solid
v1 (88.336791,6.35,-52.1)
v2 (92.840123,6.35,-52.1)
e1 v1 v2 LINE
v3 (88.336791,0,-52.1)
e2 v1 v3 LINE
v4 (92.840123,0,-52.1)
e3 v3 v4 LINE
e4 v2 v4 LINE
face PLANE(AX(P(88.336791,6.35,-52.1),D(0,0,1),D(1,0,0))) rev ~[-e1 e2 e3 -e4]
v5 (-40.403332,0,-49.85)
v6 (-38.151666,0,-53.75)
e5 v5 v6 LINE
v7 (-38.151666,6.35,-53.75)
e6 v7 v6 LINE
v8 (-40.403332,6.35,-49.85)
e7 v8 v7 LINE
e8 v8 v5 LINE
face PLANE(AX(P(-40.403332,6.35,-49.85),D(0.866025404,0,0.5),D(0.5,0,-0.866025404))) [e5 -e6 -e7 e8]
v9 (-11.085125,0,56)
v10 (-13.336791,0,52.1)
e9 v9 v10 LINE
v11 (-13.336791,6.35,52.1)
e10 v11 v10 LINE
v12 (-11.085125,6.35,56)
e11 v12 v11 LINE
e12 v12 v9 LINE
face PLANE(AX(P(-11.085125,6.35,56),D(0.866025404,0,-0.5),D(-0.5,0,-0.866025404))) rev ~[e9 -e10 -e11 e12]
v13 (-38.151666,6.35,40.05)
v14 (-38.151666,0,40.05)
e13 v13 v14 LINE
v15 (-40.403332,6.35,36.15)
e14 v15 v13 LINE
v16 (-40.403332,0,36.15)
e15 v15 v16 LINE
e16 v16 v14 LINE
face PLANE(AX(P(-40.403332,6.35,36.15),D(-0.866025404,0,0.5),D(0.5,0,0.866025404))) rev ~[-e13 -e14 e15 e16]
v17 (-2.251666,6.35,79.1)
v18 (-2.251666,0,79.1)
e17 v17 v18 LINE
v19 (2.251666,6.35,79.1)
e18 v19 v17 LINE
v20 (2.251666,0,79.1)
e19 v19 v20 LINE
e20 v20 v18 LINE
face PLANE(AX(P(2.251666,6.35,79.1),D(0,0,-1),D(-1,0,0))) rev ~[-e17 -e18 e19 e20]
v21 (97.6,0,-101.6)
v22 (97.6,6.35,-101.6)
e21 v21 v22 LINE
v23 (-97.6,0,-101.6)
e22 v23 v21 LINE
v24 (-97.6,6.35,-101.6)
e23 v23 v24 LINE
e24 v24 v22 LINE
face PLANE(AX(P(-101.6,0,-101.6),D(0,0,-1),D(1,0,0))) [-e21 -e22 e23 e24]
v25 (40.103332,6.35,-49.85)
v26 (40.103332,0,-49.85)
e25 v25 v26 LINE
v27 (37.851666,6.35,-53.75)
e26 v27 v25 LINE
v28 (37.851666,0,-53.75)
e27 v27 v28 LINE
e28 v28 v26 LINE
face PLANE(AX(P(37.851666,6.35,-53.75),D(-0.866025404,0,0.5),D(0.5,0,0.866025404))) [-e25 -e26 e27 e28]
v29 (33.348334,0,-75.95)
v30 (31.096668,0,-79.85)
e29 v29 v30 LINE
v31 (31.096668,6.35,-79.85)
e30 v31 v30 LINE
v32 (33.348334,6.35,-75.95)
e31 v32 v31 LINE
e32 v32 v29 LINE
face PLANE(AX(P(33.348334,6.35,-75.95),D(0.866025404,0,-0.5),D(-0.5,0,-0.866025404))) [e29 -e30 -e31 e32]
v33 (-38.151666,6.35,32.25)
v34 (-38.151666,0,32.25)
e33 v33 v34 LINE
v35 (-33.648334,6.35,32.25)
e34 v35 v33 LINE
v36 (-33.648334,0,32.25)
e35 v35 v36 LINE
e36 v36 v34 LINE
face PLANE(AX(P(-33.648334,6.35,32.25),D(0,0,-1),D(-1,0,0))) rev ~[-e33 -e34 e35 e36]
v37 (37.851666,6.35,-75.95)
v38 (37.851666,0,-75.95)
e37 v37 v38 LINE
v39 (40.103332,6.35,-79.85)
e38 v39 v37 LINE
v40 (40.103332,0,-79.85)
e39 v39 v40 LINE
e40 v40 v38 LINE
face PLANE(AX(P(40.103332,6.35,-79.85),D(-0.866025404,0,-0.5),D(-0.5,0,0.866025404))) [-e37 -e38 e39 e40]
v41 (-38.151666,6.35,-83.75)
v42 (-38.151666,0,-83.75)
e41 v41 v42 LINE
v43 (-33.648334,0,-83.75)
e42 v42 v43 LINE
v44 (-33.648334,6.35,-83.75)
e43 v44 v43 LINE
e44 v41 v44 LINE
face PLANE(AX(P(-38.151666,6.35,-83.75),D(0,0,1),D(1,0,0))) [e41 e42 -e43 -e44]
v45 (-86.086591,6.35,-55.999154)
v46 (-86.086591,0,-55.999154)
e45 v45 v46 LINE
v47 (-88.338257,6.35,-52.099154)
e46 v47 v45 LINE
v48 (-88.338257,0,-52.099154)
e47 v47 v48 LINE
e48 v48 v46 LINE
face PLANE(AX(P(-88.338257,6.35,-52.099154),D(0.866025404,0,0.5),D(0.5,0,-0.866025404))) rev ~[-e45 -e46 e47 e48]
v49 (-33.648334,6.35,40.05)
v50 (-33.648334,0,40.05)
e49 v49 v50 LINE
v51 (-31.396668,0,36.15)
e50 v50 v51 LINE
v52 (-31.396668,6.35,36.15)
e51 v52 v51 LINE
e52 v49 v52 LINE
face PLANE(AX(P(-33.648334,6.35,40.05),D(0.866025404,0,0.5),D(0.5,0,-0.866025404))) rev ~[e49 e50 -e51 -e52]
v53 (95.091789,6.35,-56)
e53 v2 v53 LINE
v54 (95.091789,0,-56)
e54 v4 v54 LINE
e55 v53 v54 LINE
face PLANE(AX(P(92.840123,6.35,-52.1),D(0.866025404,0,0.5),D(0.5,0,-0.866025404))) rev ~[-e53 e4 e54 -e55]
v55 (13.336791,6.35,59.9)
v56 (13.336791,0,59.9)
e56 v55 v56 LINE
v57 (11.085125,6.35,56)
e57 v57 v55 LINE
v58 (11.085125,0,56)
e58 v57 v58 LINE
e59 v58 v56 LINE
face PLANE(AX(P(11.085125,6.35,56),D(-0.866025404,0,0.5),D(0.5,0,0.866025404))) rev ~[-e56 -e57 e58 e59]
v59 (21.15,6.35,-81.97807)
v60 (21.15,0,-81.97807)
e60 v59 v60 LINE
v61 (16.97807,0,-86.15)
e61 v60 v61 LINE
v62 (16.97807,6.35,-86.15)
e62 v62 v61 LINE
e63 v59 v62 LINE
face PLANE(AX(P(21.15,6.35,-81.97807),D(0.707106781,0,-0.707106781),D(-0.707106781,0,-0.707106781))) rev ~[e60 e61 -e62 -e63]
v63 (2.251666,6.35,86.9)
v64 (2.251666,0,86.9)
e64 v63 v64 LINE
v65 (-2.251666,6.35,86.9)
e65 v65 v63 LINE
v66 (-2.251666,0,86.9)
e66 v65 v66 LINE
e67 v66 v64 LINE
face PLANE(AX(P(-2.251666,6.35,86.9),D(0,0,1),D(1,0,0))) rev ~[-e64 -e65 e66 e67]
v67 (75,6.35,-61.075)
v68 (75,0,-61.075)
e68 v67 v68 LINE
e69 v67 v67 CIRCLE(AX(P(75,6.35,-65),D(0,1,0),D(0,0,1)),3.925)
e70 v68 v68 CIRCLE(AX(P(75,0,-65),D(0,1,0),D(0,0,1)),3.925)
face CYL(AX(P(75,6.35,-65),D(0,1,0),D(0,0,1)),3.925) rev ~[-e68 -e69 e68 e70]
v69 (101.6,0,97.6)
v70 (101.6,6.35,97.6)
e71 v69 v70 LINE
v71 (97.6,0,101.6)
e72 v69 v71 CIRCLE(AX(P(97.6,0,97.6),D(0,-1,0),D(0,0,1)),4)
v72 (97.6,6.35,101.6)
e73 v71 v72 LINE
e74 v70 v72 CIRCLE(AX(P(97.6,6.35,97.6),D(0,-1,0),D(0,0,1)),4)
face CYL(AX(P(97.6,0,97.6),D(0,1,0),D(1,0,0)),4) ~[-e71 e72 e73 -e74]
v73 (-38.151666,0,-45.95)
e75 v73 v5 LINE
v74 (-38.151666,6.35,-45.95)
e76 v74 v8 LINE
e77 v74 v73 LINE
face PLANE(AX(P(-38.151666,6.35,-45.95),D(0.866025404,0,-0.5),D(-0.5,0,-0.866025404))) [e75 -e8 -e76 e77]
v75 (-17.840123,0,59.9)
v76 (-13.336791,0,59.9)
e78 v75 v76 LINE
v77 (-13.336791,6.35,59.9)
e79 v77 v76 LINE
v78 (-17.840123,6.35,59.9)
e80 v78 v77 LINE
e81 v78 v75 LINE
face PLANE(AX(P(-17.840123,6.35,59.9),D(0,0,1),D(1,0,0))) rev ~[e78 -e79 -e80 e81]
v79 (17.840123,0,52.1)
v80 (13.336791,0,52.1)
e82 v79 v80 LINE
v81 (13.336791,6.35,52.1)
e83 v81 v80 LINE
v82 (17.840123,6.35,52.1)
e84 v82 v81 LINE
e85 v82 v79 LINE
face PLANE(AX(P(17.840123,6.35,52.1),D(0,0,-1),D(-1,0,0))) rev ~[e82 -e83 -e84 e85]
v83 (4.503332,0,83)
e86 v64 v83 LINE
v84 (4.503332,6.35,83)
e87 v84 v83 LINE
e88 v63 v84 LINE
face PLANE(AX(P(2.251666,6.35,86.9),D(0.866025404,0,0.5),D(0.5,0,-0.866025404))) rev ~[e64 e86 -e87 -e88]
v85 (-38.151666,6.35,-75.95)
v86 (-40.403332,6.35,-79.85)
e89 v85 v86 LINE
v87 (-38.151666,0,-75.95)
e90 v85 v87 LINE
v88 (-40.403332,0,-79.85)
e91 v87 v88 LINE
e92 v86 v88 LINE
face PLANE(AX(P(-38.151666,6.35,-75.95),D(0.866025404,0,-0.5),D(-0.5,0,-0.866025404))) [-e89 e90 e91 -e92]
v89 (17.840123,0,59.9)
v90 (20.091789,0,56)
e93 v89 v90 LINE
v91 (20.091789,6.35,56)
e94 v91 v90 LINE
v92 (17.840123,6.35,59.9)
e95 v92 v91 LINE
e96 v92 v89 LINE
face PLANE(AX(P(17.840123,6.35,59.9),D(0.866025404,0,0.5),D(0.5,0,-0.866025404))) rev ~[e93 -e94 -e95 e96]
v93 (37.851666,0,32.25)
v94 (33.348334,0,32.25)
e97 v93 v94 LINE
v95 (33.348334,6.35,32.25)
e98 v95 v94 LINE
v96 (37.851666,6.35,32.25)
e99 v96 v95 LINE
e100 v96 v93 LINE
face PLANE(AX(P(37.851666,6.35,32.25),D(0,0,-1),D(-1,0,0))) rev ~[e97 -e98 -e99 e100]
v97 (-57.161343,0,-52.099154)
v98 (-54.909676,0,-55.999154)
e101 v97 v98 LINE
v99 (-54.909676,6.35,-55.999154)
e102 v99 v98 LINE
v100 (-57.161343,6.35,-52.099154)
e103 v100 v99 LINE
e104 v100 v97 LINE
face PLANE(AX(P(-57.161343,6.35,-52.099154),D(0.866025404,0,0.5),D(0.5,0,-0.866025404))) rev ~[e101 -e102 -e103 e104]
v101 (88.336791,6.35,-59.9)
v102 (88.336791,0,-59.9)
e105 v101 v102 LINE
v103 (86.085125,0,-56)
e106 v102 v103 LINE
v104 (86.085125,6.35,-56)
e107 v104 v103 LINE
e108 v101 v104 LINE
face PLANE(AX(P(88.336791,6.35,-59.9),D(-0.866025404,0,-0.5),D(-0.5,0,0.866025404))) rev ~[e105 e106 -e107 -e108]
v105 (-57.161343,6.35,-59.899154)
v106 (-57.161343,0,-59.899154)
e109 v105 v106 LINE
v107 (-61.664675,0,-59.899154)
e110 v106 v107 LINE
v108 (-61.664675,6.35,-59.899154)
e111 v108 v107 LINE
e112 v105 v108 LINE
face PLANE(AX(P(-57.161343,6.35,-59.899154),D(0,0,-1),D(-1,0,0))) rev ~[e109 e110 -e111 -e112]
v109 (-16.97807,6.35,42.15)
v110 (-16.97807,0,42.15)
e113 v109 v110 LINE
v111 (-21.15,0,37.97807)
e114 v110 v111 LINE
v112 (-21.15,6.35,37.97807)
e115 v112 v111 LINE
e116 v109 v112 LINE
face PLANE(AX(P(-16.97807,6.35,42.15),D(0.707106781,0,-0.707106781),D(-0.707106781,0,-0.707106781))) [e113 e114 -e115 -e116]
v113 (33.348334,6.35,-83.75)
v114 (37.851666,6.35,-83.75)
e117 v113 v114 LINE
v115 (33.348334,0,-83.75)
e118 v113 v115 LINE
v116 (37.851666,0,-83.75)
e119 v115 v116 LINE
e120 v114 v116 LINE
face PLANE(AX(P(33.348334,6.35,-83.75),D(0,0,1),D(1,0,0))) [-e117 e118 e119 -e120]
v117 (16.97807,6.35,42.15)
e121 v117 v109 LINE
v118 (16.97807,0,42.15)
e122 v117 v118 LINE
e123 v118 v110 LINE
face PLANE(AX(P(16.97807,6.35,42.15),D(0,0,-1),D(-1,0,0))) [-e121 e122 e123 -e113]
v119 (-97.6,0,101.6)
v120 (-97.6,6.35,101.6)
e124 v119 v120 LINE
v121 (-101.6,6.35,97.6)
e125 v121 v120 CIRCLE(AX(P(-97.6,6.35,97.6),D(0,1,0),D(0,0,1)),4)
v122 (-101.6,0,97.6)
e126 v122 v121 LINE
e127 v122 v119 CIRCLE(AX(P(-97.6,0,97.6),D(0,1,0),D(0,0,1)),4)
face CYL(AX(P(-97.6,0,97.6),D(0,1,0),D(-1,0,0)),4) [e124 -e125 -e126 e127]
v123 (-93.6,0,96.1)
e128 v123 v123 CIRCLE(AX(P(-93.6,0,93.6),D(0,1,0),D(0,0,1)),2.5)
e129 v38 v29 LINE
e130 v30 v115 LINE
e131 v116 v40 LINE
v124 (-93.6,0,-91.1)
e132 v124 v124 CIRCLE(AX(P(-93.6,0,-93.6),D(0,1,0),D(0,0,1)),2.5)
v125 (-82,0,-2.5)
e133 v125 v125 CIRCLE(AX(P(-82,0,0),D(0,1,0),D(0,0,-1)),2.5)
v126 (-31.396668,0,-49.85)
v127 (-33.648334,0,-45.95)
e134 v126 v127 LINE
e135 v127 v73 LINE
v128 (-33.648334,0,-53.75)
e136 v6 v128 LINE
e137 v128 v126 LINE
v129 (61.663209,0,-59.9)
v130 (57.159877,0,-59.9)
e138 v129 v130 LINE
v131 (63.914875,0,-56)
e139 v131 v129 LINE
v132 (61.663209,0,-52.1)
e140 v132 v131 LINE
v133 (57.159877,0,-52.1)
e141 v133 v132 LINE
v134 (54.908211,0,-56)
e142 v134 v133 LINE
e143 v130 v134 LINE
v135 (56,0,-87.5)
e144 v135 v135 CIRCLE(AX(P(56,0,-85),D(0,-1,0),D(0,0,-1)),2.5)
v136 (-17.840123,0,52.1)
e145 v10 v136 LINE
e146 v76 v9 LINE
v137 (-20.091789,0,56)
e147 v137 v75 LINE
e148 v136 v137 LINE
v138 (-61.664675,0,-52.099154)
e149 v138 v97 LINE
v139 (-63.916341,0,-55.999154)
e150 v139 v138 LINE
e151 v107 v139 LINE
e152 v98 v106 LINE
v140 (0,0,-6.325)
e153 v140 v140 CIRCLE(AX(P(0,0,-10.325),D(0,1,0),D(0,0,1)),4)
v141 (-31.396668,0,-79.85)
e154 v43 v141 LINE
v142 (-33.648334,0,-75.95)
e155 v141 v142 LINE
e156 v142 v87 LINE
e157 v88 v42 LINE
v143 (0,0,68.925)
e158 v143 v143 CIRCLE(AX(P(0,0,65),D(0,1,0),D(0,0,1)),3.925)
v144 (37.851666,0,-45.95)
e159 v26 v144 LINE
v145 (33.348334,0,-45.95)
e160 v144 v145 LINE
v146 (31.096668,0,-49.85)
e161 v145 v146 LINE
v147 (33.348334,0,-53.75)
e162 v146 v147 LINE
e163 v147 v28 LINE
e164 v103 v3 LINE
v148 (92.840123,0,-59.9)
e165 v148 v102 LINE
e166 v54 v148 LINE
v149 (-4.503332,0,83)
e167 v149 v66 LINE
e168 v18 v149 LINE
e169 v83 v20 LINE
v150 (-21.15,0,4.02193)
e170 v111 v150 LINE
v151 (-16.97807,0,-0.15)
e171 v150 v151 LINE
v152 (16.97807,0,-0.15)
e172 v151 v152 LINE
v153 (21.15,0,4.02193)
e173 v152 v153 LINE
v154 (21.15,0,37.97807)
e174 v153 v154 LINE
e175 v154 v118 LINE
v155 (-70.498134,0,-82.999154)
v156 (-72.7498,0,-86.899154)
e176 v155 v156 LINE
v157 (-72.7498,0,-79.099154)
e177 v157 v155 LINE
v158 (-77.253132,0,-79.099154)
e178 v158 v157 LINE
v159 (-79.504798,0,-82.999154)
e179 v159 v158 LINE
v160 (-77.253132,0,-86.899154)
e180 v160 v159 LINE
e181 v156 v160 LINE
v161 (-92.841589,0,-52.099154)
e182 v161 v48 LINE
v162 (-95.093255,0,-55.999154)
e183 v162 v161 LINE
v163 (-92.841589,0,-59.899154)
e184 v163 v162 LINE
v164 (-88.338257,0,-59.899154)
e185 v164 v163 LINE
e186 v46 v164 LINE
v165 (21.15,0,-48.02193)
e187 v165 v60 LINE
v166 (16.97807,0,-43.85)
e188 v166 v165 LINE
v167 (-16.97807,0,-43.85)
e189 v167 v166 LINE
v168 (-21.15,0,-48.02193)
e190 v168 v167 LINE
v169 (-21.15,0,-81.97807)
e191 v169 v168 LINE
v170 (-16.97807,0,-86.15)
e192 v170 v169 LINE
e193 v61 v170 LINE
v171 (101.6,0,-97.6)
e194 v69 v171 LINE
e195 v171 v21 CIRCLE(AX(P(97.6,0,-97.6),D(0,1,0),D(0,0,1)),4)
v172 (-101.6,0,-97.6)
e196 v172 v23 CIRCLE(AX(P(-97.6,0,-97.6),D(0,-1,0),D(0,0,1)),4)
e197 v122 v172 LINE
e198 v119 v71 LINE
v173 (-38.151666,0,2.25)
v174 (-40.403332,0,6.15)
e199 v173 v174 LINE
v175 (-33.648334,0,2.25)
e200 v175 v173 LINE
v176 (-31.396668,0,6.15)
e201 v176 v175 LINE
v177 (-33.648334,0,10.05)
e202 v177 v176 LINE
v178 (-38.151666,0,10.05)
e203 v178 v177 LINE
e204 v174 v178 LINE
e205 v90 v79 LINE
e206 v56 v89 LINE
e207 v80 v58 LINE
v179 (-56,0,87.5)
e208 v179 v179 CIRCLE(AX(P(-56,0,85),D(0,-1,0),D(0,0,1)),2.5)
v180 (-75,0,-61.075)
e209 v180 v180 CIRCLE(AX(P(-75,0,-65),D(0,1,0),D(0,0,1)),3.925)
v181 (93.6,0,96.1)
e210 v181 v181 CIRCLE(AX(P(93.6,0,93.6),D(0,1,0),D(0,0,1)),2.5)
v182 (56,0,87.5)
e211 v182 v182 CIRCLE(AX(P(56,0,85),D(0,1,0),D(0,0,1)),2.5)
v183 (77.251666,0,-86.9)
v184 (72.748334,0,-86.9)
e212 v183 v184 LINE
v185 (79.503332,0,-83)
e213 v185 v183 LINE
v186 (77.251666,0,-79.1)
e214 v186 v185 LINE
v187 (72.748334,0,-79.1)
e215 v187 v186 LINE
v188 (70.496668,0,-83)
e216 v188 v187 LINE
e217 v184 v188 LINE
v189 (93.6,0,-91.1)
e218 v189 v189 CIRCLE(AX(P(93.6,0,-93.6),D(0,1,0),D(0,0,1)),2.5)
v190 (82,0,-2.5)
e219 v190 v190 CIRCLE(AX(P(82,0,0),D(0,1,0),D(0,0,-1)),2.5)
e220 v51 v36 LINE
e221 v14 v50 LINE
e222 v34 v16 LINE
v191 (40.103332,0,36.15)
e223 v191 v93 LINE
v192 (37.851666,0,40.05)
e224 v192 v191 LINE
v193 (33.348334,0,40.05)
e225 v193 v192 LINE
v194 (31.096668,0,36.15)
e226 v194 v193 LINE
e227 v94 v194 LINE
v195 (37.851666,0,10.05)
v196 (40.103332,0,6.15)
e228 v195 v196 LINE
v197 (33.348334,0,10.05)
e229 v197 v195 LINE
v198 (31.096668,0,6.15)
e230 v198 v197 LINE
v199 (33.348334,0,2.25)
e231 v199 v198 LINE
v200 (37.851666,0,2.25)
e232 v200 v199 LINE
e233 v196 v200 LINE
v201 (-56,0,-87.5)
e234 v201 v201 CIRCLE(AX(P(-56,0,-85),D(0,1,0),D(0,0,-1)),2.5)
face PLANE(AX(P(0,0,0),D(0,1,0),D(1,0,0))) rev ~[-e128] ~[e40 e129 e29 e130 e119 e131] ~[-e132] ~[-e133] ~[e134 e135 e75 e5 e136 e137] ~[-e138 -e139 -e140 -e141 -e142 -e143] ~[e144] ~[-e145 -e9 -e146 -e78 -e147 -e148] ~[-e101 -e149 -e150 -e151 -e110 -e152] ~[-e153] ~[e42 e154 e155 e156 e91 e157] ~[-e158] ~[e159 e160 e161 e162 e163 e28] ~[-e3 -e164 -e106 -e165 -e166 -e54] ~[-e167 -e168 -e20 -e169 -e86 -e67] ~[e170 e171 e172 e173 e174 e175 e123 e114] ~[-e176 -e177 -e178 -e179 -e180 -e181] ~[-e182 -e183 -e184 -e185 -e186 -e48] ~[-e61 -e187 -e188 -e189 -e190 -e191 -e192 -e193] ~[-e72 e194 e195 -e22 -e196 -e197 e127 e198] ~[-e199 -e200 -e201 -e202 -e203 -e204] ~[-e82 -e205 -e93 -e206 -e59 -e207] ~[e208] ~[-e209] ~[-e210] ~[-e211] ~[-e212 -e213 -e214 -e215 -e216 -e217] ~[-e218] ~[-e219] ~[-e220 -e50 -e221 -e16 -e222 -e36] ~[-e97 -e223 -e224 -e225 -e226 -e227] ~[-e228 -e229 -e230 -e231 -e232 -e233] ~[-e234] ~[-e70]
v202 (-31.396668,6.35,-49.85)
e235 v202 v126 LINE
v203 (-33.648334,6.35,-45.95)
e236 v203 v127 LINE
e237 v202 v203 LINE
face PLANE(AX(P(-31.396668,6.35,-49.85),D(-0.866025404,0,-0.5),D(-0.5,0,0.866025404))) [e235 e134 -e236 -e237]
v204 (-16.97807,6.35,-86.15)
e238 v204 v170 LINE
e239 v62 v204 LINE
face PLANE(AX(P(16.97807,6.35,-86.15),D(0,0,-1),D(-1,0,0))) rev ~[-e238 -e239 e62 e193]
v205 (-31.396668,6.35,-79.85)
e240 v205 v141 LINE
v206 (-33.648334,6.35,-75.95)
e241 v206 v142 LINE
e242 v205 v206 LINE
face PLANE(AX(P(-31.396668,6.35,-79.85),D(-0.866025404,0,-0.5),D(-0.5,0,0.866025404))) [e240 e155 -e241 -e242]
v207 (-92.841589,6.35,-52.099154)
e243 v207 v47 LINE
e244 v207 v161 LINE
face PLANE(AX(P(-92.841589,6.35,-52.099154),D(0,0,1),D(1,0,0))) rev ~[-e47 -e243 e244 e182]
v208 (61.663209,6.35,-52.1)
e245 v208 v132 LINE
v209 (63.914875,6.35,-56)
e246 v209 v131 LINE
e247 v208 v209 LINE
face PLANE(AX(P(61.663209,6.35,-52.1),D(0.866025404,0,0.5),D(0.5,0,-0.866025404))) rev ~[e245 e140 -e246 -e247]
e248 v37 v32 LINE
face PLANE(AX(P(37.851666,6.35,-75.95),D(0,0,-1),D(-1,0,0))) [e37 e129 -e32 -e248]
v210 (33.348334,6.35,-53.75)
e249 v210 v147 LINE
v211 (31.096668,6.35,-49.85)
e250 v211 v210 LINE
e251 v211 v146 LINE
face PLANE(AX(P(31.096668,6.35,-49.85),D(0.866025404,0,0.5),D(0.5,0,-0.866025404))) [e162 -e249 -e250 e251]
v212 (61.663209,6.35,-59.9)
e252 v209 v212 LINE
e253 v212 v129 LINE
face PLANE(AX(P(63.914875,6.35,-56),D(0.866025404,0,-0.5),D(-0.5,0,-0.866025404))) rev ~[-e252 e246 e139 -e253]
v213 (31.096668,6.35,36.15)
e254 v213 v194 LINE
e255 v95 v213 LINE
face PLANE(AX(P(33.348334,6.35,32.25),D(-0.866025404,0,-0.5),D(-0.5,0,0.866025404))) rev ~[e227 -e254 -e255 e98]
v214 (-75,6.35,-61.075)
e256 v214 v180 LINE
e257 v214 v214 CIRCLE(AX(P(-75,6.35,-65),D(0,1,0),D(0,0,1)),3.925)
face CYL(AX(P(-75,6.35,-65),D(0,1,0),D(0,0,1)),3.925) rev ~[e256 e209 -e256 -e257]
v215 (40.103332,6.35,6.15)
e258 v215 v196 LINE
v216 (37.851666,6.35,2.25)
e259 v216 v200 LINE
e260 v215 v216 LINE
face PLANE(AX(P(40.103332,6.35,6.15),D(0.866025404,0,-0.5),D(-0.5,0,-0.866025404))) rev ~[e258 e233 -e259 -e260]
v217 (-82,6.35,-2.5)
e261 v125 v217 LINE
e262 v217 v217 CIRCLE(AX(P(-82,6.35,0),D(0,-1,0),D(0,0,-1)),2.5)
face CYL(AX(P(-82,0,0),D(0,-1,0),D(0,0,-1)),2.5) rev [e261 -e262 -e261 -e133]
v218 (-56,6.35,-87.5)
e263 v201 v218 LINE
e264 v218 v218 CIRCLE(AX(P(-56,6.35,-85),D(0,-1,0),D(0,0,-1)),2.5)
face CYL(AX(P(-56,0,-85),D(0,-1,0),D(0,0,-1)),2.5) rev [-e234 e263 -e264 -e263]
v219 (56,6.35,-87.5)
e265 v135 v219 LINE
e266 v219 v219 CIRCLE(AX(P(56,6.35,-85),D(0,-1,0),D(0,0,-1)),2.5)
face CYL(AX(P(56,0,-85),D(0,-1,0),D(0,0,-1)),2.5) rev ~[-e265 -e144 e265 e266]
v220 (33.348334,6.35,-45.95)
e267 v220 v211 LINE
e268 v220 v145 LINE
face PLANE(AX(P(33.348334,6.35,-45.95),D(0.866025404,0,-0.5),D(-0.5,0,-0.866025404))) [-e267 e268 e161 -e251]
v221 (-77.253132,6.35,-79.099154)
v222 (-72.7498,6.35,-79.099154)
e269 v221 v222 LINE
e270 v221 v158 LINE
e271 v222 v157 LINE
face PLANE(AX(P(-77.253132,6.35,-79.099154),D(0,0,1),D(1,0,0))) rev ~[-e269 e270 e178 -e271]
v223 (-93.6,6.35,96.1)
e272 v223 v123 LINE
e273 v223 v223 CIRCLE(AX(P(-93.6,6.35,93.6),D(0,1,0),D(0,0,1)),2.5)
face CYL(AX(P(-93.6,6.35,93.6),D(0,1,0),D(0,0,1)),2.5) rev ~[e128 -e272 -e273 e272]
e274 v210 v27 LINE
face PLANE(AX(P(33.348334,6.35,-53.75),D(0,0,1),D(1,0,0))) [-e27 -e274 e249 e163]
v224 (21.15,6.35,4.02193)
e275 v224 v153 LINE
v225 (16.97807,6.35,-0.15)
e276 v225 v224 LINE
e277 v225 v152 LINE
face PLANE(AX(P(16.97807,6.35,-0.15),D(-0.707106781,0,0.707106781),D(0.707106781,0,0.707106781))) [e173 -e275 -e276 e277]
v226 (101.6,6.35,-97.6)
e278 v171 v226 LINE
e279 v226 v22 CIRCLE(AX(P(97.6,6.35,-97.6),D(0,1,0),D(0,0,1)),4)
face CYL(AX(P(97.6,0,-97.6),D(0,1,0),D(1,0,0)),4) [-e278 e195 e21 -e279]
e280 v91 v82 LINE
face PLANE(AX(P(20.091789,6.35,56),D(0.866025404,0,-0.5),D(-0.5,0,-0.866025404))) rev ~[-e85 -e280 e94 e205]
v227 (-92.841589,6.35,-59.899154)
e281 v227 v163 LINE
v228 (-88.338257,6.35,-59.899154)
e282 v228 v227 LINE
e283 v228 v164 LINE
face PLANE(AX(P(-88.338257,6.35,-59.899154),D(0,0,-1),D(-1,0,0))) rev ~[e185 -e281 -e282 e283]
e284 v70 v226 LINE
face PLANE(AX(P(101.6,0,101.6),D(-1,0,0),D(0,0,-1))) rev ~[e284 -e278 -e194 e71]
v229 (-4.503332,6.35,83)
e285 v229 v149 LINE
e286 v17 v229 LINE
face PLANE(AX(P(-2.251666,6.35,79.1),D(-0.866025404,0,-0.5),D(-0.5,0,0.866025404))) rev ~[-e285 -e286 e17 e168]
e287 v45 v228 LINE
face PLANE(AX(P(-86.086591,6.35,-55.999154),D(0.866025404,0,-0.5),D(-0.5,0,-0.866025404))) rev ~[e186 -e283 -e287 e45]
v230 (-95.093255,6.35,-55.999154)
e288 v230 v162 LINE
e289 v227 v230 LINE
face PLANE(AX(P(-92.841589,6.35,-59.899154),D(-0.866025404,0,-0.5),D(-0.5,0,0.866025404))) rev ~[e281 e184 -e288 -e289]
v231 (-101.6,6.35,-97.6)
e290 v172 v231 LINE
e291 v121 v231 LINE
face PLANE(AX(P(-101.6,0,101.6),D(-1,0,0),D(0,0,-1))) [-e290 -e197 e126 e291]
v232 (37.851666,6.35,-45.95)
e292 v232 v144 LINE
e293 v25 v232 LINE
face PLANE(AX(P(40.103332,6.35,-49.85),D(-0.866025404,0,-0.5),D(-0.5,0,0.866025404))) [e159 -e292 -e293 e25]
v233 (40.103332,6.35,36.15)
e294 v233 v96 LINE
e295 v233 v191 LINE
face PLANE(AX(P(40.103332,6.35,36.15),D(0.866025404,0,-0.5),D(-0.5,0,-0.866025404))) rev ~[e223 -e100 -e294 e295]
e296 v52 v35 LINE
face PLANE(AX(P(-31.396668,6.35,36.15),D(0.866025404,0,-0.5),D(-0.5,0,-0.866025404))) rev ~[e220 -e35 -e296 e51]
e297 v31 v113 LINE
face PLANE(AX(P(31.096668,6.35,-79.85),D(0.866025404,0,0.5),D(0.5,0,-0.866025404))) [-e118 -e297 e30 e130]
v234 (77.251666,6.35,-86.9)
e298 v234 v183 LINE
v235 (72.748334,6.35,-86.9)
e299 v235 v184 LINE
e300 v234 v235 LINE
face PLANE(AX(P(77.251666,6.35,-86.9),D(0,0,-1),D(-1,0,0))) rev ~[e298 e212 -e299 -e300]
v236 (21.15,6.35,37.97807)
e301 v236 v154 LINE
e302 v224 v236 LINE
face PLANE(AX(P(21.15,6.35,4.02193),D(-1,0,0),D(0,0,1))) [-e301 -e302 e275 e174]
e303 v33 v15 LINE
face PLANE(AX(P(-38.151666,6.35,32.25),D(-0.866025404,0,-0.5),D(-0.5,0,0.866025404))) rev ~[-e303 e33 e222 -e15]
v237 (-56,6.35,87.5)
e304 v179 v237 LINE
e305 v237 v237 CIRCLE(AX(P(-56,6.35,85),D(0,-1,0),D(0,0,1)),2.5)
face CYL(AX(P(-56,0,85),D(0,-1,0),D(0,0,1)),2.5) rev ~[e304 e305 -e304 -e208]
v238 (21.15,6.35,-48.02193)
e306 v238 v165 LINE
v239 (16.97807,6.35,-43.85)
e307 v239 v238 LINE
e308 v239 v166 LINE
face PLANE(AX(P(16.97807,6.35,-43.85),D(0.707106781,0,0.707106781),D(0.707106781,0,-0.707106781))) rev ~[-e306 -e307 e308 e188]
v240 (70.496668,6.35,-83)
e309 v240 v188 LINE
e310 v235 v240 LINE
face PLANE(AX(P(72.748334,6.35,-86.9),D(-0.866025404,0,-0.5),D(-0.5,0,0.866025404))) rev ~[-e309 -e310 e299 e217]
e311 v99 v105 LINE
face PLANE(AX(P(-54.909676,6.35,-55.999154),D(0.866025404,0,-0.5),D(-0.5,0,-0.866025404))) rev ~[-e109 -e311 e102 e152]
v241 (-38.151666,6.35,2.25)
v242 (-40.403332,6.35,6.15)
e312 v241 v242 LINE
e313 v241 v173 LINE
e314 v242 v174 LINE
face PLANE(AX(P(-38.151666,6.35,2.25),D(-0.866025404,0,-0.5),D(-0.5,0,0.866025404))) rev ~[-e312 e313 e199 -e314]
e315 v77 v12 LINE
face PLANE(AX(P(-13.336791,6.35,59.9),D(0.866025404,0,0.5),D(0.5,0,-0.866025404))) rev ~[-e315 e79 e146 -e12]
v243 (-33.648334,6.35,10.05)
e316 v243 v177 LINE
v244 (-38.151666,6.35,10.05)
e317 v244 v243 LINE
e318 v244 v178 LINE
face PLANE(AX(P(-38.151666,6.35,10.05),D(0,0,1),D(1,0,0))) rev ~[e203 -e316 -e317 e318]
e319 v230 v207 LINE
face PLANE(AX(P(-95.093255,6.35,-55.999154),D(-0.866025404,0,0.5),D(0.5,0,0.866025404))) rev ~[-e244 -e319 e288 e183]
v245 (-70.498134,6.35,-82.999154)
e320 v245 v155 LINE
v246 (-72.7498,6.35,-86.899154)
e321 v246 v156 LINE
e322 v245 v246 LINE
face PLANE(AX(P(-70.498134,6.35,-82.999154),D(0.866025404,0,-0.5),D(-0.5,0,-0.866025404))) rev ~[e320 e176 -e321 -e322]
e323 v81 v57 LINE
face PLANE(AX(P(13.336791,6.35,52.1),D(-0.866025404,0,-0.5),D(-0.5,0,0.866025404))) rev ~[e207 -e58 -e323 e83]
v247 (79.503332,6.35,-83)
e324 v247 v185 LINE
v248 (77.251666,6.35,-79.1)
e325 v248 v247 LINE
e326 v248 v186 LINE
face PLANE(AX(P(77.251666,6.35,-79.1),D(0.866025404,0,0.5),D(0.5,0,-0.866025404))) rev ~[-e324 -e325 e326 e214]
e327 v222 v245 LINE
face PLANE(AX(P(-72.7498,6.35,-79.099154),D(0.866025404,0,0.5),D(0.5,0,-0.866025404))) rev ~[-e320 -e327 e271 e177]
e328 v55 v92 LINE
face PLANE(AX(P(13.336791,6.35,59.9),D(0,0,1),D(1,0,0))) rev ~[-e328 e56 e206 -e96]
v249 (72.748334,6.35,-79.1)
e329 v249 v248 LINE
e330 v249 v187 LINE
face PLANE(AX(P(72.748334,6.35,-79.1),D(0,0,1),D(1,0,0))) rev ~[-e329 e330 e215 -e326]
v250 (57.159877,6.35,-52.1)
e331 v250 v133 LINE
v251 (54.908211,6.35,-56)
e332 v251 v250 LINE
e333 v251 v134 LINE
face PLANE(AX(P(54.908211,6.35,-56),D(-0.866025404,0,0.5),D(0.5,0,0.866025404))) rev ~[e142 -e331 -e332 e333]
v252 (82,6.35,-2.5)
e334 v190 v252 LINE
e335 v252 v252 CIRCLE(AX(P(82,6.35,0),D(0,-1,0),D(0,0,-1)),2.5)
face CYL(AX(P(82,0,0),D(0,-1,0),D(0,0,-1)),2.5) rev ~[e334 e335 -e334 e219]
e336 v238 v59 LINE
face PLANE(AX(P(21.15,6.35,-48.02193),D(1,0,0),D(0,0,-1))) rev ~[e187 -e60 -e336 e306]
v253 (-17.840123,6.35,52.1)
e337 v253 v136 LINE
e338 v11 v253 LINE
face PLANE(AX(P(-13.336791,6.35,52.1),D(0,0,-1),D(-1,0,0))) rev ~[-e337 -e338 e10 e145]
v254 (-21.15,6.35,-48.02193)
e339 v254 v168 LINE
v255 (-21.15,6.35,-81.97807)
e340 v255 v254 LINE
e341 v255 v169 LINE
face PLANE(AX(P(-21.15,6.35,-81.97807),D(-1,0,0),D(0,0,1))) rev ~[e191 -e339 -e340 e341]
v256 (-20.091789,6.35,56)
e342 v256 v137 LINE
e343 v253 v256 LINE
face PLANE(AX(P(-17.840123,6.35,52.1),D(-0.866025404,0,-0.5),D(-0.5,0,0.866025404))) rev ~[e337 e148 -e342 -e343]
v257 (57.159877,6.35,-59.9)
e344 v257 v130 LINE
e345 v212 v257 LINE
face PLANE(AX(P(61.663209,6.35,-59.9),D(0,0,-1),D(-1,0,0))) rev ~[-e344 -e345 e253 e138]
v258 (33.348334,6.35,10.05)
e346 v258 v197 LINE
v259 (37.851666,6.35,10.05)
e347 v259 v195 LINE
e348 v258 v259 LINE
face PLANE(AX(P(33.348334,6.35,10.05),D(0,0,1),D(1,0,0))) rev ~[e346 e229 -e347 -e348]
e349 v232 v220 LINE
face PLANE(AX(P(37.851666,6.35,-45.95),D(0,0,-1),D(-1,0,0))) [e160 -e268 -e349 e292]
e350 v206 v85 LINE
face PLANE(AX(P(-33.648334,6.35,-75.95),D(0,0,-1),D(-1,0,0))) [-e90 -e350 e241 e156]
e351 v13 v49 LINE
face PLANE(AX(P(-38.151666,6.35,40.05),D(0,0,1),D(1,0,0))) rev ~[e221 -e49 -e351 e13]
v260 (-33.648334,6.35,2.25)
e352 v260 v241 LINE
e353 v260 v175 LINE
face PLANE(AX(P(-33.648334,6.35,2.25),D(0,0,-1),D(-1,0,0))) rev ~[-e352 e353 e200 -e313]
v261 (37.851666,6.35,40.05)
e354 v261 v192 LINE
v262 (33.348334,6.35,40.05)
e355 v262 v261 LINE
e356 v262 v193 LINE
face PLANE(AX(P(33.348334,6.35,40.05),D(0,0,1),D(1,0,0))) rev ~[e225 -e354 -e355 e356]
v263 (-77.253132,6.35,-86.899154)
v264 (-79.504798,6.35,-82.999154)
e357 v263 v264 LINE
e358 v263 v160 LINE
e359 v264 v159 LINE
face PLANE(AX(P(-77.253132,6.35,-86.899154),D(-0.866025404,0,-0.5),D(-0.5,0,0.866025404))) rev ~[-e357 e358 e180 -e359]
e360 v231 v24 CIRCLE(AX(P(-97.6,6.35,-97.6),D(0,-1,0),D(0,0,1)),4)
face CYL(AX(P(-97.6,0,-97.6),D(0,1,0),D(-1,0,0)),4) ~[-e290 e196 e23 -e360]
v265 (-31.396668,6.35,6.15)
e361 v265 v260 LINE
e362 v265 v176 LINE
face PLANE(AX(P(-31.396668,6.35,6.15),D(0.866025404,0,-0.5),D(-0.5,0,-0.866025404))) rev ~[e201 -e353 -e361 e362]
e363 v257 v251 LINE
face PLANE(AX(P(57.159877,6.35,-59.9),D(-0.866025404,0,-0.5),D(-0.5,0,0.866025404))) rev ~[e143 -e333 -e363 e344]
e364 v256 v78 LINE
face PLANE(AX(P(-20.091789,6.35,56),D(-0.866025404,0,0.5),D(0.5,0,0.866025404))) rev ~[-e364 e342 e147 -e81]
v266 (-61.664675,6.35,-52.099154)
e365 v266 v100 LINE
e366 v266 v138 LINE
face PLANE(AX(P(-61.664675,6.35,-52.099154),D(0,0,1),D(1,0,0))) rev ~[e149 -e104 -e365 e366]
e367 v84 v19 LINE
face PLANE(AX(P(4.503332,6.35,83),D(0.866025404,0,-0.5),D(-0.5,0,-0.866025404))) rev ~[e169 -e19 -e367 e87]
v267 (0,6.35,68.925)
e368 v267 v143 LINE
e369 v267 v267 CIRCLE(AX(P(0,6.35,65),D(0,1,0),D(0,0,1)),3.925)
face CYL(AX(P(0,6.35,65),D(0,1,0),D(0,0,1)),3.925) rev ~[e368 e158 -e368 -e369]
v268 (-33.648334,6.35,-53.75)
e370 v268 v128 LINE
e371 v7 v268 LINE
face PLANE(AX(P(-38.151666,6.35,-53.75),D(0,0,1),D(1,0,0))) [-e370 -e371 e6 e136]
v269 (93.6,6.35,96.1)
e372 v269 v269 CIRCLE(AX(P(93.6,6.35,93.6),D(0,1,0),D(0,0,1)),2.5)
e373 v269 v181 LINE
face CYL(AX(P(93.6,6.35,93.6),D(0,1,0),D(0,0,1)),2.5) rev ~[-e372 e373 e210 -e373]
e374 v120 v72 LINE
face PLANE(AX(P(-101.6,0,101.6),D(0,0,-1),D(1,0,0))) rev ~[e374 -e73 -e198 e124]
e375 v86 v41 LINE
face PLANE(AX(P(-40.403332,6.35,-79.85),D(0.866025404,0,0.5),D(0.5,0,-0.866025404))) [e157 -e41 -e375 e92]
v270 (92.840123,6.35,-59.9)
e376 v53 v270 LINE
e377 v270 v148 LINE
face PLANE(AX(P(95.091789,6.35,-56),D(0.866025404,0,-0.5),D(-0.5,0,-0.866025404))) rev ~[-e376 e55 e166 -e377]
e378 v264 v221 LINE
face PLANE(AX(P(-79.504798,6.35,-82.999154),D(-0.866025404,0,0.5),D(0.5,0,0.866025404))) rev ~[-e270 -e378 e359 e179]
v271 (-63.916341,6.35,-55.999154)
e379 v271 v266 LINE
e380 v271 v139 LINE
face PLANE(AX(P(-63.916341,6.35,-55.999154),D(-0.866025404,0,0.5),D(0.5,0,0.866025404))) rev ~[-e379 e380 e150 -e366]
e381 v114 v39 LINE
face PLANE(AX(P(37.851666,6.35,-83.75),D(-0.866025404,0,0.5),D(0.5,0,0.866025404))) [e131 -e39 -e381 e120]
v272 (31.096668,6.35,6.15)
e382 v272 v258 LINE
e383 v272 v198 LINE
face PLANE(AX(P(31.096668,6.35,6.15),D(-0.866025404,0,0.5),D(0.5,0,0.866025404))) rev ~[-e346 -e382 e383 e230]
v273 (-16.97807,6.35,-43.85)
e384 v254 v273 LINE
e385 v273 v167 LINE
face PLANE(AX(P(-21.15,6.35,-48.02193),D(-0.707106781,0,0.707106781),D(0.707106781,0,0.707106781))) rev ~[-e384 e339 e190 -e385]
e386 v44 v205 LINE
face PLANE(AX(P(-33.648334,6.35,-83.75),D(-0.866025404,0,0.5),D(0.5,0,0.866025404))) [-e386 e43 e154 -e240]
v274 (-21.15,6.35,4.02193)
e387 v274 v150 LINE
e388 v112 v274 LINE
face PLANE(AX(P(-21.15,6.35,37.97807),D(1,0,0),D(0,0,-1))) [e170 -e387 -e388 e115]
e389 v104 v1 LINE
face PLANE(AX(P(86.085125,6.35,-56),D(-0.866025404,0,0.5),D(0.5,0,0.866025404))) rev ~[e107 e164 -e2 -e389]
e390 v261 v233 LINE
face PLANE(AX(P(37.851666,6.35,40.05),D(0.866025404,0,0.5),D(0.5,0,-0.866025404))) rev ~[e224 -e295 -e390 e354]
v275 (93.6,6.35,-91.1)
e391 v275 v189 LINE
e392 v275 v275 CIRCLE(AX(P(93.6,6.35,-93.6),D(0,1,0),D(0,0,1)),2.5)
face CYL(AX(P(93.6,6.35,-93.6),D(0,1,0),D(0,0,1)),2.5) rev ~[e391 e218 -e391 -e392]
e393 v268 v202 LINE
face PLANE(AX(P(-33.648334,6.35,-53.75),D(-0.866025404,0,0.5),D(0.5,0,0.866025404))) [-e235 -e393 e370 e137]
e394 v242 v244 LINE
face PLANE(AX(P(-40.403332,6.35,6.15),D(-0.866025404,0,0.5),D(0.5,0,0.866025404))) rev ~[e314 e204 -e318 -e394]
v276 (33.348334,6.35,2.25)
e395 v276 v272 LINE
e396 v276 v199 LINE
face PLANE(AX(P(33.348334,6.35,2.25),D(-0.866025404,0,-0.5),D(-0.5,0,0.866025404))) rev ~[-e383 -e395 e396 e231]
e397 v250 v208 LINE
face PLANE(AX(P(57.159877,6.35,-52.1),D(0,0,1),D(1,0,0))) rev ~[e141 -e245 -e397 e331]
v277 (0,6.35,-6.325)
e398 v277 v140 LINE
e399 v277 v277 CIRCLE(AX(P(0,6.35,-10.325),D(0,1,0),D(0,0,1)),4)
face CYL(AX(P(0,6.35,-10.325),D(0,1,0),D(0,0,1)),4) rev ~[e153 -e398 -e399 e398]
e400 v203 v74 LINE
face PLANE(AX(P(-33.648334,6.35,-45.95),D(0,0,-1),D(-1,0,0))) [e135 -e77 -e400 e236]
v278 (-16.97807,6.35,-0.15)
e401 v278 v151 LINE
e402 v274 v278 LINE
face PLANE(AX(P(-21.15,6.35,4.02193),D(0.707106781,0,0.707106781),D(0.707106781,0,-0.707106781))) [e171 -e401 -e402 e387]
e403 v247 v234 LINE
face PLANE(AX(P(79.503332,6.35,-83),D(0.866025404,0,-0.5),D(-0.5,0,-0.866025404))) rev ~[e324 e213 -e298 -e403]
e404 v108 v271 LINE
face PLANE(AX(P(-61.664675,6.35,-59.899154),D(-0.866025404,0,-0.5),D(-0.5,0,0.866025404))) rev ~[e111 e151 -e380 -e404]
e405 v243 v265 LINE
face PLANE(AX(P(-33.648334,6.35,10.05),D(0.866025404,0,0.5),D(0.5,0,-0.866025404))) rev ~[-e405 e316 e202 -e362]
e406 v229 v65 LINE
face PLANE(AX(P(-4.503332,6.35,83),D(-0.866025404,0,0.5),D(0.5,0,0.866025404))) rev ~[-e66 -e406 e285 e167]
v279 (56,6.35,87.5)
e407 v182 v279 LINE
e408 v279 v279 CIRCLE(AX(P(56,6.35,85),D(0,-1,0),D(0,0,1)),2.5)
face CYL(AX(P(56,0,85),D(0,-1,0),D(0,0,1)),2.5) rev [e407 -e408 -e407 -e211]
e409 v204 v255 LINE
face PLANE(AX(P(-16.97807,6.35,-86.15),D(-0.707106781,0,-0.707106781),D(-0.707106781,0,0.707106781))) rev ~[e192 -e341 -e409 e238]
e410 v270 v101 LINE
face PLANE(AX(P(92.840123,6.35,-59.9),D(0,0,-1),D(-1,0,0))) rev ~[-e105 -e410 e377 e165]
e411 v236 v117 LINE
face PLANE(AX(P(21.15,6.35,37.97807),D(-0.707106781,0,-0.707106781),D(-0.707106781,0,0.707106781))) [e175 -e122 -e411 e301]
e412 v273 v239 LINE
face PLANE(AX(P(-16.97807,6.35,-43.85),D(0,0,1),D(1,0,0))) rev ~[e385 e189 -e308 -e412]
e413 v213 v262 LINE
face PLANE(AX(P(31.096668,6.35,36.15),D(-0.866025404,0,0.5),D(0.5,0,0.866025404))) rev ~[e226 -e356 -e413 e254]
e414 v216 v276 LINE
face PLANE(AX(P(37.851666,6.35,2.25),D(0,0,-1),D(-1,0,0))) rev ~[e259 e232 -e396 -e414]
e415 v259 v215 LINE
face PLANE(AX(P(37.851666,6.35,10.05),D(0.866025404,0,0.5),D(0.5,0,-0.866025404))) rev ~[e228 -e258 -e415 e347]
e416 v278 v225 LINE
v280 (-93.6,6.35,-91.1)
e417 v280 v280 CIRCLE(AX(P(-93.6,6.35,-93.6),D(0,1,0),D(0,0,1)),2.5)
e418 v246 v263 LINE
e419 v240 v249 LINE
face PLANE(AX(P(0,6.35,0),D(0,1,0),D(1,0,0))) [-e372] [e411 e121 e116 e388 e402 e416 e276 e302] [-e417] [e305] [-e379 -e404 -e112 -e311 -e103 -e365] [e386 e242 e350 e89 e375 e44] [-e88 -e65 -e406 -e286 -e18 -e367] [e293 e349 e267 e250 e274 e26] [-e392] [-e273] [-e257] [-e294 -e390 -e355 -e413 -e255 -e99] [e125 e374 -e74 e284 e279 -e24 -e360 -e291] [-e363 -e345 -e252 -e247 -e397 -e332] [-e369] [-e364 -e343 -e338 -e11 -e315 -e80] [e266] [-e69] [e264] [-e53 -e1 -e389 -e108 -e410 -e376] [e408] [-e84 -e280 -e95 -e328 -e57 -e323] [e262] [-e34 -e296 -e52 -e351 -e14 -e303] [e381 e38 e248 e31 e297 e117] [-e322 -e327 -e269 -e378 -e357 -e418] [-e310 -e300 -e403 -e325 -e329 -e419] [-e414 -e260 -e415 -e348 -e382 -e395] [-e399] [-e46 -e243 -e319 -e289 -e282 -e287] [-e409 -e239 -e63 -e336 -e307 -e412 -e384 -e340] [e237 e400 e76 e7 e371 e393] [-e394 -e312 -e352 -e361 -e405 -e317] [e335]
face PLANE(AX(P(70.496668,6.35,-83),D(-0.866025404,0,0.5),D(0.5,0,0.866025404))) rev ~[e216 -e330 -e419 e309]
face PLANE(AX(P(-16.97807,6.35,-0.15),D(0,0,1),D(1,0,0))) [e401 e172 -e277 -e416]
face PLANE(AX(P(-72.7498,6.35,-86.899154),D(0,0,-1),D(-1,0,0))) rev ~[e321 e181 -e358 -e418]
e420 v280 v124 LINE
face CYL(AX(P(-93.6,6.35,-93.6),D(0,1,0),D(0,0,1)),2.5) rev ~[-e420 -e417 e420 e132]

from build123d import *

# Parameters (mm, degrees)
ESQUISSE1_W               = 203.2
ESQUISSE1_H               = 203.2
BOSS_EXTRU_1_DEPTH        = 6.35
ESQUISSE2_R               = 3.925
ENL_V_MAT_EXTRU_1_DEPTH   = 144.824345992
ENL_V_MAT_EXTRU_2_DEPTH   = 144.824345992
ENL_V_MAT_EXTRU_5_DEPTH   = 144.824345992
ENL_V_MAT_EXTRU_6_DEPTH   = 144.824345992
ENL_V_MAT_EXTRU_7_DEPTH   = 144.824345992
ENL_V_MAT_EXTRU_8_DEPTH   = 144.824345992
ENL_V_MAT_EXTRU_9_DEPTH   = 144.824345992
ESQUISSE11_R              = 2.5
ENL_V_MAT_EXTRU_10_DEPTH  = 144.824345992
ESQUISSE12_R              = 4
ENL_V_MAT_EXTRU_11_DEPTH  = 144.824345992
ESQUISSE13_R              = 2.5
ENL_V_MAT_EXTRU_12_DEPTH  = 144.824345992
SYM_TRIE2_COPY_1_SKETCH_R = 2.5
SYM_TRIE2_COPY_1_DEPTH    = 144.824345992
CONG_3_R                  = 4
ENL_V_MAT_EXTRU_13_DEPTH  = 144.824345992
ESQUISSE15_R              = 2.6
ENL_V_MAT_EXTRU_14_DEPTH  = 144.824345992
ENL_V_MAT_EXTRU_15_DEPTH  = 144.824345992


with BuildPart() as part:
    # Esquisse1 → Boss.-Extru.1 (new body)
    with BuildSketch(Plane(origin=(0, 0, 0), x_dir=(1, 0, 0), z_dir=(0, 1, 0))):
        Rectangle(ESQUISSE1_W, ESQUISSE1_H)
    extrude(amount=BOSS_EXTRU_1_DEPTH)

    # Esquisse2 → Enlèv. mat.-Extru.1 (cut, through all)
    with BuildSketch(Plane(origin=(0, 6.35, 0), x_dir=(1, 0, 0), z_dir=(0, 1, 0))):
        with Locations(Location((-75, 65, 0), (0, 0, 270))):
            Circle(ESQUISSE2_R)
        with Locations(Location((75, 65, 0), (0, 0, 270))):
            Circle(ESQUISSE2_R)
        with Locations(Location((0, -65, 0), (0, 0, 270))):
            Circle(ESQUISSE2_R)
    extrude(amount=-ENL_V_MAT_EXTRU_1_DEPTH, mode=Mode.SUBTRACT)

    # Esquisse3 → Enlèv. mat.-Extru.2 (cut, through all)
    with BuildSketch(Plane(origin=(0, 6.35, 0), x_dir=(1, 0, 0), z_dir=(0, 1, 0))):
        Polygon((-16.978069991, 86.15), (-21.15, 81.978069991), (-21.15, 48.021930009), (-16.978069991, 43.85), (16.978069991, 43.85), (21.15, 48.021930009), (21.15, 81.978069991), (16.978069991, 86.15), align=None)
    extrude(amount=-ENL_V_MAT_EXTRU_2_DEPTH, mode=Mode.SUBTRACT)

    # Esquisse5 → Enlèv. mat.-Extru.5 (cut, through all)
    with BuildSketch(Plane(origin=(0, 6.35, 0), x_dir=(1, 0, 0), z_dir=(0, 1, 0))):
        Polygon((-31.3966679, 49.85), (-33.64833395, 45.95), (-38.15166605, 45.95), (-40.4033321, 49.85), (-38.15166605, 53.75), (-33.64833395, 53.75), align=None)
    extrude(amount=-ENL_V_MAT_EXTRU_5_DEPTH, mode=Mode.SUBTRACT)

    # Esquisse7 → Enlèv. mat.-Extru.6 (cut, through all)
    with BuildSketch(Plane(origin=(0, 6.35, 0), x_dir=(1, 0, 0), z_dir=(0, 1, 0))):
        Polygon((-33.64833395, 75.95), (-38.15166605, 75.95), (-40.4033321, 79.85), (-38.15166605, 83.75), (-33.64833395, 83.75), (-31.3966679, 79.85), align=None)
    extrude(amount=-ENL_V_MAT_EXTRU_6_DEPTH, mode=Mode.SUBTRACT)

    # Esquisse8 → Enlèv. mat.-Extru.7 (cut, through all)
    with BuildSketch(Plane(origin=(0, 6.35, 0), x_dir=(1, 0, 0), z_dir=(0, 1, 0))):
        Polygon((37.85166605, 45.95), (33.34833395, 45.95), (31.0966679, 49.85), (33.34833395, 53.75), (37.85166605, 53.75), (40.1033321, 49.85), align=None)
    extrude(amount=-ENL_V_MAT_EXTRU_7_DEPTH, mode=Mode.SUBTRACT)

    # Esquisse9 → Enlèv. mat.-Extru.8 (cut, through all)
    with BuildSketch(Plane(origin=(0, 6.35, 0), x_dir=(1, 0, 0), z_dir=(0, 1, 0))):
        Polygon((37.85166605, 75.95), (33.34833395, 75.95), (31.0966679, 79.85), (33.34833395, 83.75), (37.85166605, 83.75), (40.1033321, 79.85), align=None)
    extrude(amount=-ENL_V_MAT_EXTRU_8_DEPTH, mode=Mode.SUBTRACT)

    # Esquisse10 → Enlèv. mat.-Extru.9 (cut, through all)
    with BuildSketch(Plane(origin=(0, 6.35, 0), x_dir=(1, 0, 0), z_dir=(0, 1, 0))):
        Polygon((-11.085125168, -56), (-13.336791218, -52.1), (-17.840123318, -52.1), (-20.091789368, -56), (-17.840123318, -59.9), (-13.336791218, -59.9), align=None)
        Polygon((11.085125168, -56), (13.336791218, -59.9), (17.840123318, -59.9), (20.091789368, -56), (17.840123318, -52.1), (13.336791218, -52.1), align=None)
        Polygon((-4.5033321, -83), (-2.25166605, -86.9), (2.25166605, -86.9), (4.5033321, -83), (2.25166605, -79.1), (-2.25166605, -79.1), align=None)
        Polygon((-63.916340686, 55.999154304), (-61.664674636, 52.099154304), (-57.161342537, 52.099154304), (-54.909676487, 55.999154304), (-57.161342537, 59.899154304), (-61.664674636, 59.899154304), align=None)
        Polygon((-95.093255222, 55.999154304), (-92.841589173, 52.099154304), (-88.338257073, 52.099154304), (-86.086591023, 55.999154304), (-88.338257073, 59.899154304), (-92.841589173, 59.899154304), align=None)
        Polygon((-79.504797954, 82.999154304), (-77.253131904, 79.099154304), (-72.749799805, 79.099154304), (-70.498133755, 82.999154304), (-72.749799805, 86.899154304), (-77.253131904, 86.899154304), align=None)
        Polygon((54.908210632, 56), (57.159876682, 52.1), (61.663208782, 52.1), (63.914874832, 56), (61.663208782, 59.9), (57.159876682, 59.9), align=None)
        Polygon((95.091789368, 56), (92.840123318, 59.9), (88.336791218, 59.9), (86.085125168, 56), (88.336791218, 52.1), (92.840123318, 52.1), align=None)
        Polygon((70.4966679, 83), (72.74833395, 79.1), (77.25166605, 79.1), (79.5033321, 83), (77.25166605, 86.9), (72.74833395, 86.9), align=None)
    extrude(amount=-ENL_V_MAT_EXTRU_9_DEPTH, mode=Mode.SUBTRACT)

    # Esquisse11 → Enlèv. mat.-Extru.10 (cut, through all)
    with BuildSketch(Plane(origin=(0, 6.35, 0), x_dir=(1, 0, 0), z_dir=(0, 1, 0))):
        with Locations(Location((93.6, 93.6, 0), (0, 0, 270))):
            Circle(ESQUISSE11_R)
        with Locations(Location((-93.6, 93.6, 0), (0, 0, 270))):
            Circle(ESQUISSE11_R)
        with Locations(Location((-93.6, -93.6, 0), (0, 0, 270))):
            Circle(ESQUISSE11_R)
        with Locations(Location((93.6, -93.6, 0), (0, 0, 270))):
            Circle(ESQUISSE11_R)
    extrude(amount=-ENL_V_MAT_EXTRU_10_DEPTH, mode=Mode.SUBTRACT)

    # Esquisse12 → Enlèv. mat.-Extru.11 (cut, through all)
    with BuildSketch(Plane(origin=(0, 6.35, 0), x_dir=(1, 0, 0), z_dir=(0, 1, 0))):
        with Locations(Location((0, 10.325, 0), (0, 0, 270))):
            Circle(ESQUISSE12_R)
    extrude(amount=-ENL_V_MAT_EXTRU_11_DEPTH, mode=Mode.SUBTRACT)

    # Esquisse13 → Enlèv. mat.-Extru.12 (cut, through all)
    with BuildSketch(Plane.XZ):
        with Locations(Location((56, -85, 0), (0, 0, 270))):
            Circle(ESQUISSE13_R)
        with Locations(Location((82, 0, 0), (0, 0, 270))):
            Circle(ESQUISSE13_R)
    enl_v_mat_extru_12 = extrude(amount=-ENL_V_MAT_EXTRU_12_DEPTH, mode=Mode.SUBTRACT)

    # Symétrie1: Enlèv. mat.-Extru.12 across plane
    add(enl_v_mat_extru_12.mirror(Plane.XY), mode=Mode.SUBTRACT)

    # Symétrie2: Enlèv. mat.-Extru.12 across plane
    add(enl_v_mat_extru_12.mirror(Plane(origin=(0, 0, 0), x_dir=(0, 0, 1), z_dir=(1, 0, 0))), mode=Mode.SUBTRACT)

    # Symétrie2 copy 1 sketch → Symétrie2 copy 1 (cut, through all)
    with BuildSketch(Plane(origin=(0, 0, 0), x_dir=(-1, 0, 0), z_dir=(0, -1, 0))):
        with Locations(Location((56, -85, 0), (0, 0, 270))):
            Circle(SYM_TRIE2_COPY_1_SKETCH_R)
        with Locations(Location((82, 0, 0), (0, 0, 270))):
            Circle(SYM_TRIE2_COPY_1_SKETCH_R)
    extrude(amount=-SYM_TRIE2_COPY_1_DEPTH, mode=Mode.SUBTRACT)

    # Congé3
    cong_3_edges = [part.edges().sort_by_distance(p)[0] for p in [
        (101.6, 3.175, 101.6),
        (-101.6, 3.175, 101.6),
        (-101.6, 3.175, -101.6),
        (101.6, 3.175, -101.6),
    ]]
    fillet(cong_3_edges, radius=CONG_3_R)

    # Esquisse14 → Enlèv. mat.-Extru.13 (cut, through all)
    with BuildSketch(Plane(origin=(0, 6.35, 0), x_dir=(1, 0, 0), z_dir=(0, 1, 0))):
        Polygon((16.978069991, -42.150000003), (-16.978069991, -42.150000003), (-21.15, -37.978069994), (-21.15, -4.021930012), (-16.978069991, 0.149999997), (16.978069991, 0.149999997), (21.15, -4.021930012), (21.15, -37.978069994), align=None)
    extrude(amount=-ENL_V_MAT_EXTRU_13_DEPTH, mode=Mode.SUBTRACT)

    # Esquisse15 → Enlèv. mat.-Extru.14 (cut, through all)
    with BuildSketch(Plane(origin=(0, 6.35, 0), x_dir=(1, 0, 0), z_dir=(0, 1, 0))):
        with Locations(Location((35.6, -36.15, 0), (0, 0, 270))):
            Circle(ESQUISSE15_R)
        with Locations(Location((35.6, -6.15, 0), (0, 0, 270))):
            Circle(ESQUISSE15_R)
        with Locations(Location((-35.9, -36.15, 0), (0, 0, 270))):
            Circle(ESQUISSE15_R)
        with Locations(Location((-35.9, -6.15, 0), (0, 0, 270))):
            Circle(ESQUISSE15_R)
    extrude(amount=-ENL_V_MAT_EXTRU_14_DEPTH, mode=Mode.SUBTRACT)

    # Esquisse16 → Enlèv. mat.-Extru.15 (cut, through all)
    with BuildSketch(Plane(origin=(0, 6.35, 0), x_dir=(1, 0, 0), z_dir=(0, 1, 0))):
        Polygon((31.0966679, -36.15), (33.34833395, -40.05), (37.85166605, -40.05), (40.1033321, -36.15), (37.85166605, -32.25), (33.34833395, -32.25), align=None)
        Polygon((31.0966679, -6.15), (33.34833395, -10.05), (37.85166605, -10.05), (40.1033321, -6.15), (37.85166605, -2.25), (33.34833395, -2.25), align=None)
        Polygon((-40.4033321, -6.15), (-38.15166605, -10.05), (-33.64833395, -10.05), (-31.3966679, -6.15), (-33.64833395, -2.25), (-38.15166605, -2.25), align=None)
        Polygon((-40.4033321, -36.15), (-38.15166605, -40.05), (-33.64833395, -40.05), (-31.3966679, -36.15), (-33.64833395, -32.25), (-38.15166605, -32.25), align=None)
    extrude(amount=-ENL_V_MAT_EXTRU_15_DEPTH, mode=Mode.SUBTRACT)


solid = part.part
